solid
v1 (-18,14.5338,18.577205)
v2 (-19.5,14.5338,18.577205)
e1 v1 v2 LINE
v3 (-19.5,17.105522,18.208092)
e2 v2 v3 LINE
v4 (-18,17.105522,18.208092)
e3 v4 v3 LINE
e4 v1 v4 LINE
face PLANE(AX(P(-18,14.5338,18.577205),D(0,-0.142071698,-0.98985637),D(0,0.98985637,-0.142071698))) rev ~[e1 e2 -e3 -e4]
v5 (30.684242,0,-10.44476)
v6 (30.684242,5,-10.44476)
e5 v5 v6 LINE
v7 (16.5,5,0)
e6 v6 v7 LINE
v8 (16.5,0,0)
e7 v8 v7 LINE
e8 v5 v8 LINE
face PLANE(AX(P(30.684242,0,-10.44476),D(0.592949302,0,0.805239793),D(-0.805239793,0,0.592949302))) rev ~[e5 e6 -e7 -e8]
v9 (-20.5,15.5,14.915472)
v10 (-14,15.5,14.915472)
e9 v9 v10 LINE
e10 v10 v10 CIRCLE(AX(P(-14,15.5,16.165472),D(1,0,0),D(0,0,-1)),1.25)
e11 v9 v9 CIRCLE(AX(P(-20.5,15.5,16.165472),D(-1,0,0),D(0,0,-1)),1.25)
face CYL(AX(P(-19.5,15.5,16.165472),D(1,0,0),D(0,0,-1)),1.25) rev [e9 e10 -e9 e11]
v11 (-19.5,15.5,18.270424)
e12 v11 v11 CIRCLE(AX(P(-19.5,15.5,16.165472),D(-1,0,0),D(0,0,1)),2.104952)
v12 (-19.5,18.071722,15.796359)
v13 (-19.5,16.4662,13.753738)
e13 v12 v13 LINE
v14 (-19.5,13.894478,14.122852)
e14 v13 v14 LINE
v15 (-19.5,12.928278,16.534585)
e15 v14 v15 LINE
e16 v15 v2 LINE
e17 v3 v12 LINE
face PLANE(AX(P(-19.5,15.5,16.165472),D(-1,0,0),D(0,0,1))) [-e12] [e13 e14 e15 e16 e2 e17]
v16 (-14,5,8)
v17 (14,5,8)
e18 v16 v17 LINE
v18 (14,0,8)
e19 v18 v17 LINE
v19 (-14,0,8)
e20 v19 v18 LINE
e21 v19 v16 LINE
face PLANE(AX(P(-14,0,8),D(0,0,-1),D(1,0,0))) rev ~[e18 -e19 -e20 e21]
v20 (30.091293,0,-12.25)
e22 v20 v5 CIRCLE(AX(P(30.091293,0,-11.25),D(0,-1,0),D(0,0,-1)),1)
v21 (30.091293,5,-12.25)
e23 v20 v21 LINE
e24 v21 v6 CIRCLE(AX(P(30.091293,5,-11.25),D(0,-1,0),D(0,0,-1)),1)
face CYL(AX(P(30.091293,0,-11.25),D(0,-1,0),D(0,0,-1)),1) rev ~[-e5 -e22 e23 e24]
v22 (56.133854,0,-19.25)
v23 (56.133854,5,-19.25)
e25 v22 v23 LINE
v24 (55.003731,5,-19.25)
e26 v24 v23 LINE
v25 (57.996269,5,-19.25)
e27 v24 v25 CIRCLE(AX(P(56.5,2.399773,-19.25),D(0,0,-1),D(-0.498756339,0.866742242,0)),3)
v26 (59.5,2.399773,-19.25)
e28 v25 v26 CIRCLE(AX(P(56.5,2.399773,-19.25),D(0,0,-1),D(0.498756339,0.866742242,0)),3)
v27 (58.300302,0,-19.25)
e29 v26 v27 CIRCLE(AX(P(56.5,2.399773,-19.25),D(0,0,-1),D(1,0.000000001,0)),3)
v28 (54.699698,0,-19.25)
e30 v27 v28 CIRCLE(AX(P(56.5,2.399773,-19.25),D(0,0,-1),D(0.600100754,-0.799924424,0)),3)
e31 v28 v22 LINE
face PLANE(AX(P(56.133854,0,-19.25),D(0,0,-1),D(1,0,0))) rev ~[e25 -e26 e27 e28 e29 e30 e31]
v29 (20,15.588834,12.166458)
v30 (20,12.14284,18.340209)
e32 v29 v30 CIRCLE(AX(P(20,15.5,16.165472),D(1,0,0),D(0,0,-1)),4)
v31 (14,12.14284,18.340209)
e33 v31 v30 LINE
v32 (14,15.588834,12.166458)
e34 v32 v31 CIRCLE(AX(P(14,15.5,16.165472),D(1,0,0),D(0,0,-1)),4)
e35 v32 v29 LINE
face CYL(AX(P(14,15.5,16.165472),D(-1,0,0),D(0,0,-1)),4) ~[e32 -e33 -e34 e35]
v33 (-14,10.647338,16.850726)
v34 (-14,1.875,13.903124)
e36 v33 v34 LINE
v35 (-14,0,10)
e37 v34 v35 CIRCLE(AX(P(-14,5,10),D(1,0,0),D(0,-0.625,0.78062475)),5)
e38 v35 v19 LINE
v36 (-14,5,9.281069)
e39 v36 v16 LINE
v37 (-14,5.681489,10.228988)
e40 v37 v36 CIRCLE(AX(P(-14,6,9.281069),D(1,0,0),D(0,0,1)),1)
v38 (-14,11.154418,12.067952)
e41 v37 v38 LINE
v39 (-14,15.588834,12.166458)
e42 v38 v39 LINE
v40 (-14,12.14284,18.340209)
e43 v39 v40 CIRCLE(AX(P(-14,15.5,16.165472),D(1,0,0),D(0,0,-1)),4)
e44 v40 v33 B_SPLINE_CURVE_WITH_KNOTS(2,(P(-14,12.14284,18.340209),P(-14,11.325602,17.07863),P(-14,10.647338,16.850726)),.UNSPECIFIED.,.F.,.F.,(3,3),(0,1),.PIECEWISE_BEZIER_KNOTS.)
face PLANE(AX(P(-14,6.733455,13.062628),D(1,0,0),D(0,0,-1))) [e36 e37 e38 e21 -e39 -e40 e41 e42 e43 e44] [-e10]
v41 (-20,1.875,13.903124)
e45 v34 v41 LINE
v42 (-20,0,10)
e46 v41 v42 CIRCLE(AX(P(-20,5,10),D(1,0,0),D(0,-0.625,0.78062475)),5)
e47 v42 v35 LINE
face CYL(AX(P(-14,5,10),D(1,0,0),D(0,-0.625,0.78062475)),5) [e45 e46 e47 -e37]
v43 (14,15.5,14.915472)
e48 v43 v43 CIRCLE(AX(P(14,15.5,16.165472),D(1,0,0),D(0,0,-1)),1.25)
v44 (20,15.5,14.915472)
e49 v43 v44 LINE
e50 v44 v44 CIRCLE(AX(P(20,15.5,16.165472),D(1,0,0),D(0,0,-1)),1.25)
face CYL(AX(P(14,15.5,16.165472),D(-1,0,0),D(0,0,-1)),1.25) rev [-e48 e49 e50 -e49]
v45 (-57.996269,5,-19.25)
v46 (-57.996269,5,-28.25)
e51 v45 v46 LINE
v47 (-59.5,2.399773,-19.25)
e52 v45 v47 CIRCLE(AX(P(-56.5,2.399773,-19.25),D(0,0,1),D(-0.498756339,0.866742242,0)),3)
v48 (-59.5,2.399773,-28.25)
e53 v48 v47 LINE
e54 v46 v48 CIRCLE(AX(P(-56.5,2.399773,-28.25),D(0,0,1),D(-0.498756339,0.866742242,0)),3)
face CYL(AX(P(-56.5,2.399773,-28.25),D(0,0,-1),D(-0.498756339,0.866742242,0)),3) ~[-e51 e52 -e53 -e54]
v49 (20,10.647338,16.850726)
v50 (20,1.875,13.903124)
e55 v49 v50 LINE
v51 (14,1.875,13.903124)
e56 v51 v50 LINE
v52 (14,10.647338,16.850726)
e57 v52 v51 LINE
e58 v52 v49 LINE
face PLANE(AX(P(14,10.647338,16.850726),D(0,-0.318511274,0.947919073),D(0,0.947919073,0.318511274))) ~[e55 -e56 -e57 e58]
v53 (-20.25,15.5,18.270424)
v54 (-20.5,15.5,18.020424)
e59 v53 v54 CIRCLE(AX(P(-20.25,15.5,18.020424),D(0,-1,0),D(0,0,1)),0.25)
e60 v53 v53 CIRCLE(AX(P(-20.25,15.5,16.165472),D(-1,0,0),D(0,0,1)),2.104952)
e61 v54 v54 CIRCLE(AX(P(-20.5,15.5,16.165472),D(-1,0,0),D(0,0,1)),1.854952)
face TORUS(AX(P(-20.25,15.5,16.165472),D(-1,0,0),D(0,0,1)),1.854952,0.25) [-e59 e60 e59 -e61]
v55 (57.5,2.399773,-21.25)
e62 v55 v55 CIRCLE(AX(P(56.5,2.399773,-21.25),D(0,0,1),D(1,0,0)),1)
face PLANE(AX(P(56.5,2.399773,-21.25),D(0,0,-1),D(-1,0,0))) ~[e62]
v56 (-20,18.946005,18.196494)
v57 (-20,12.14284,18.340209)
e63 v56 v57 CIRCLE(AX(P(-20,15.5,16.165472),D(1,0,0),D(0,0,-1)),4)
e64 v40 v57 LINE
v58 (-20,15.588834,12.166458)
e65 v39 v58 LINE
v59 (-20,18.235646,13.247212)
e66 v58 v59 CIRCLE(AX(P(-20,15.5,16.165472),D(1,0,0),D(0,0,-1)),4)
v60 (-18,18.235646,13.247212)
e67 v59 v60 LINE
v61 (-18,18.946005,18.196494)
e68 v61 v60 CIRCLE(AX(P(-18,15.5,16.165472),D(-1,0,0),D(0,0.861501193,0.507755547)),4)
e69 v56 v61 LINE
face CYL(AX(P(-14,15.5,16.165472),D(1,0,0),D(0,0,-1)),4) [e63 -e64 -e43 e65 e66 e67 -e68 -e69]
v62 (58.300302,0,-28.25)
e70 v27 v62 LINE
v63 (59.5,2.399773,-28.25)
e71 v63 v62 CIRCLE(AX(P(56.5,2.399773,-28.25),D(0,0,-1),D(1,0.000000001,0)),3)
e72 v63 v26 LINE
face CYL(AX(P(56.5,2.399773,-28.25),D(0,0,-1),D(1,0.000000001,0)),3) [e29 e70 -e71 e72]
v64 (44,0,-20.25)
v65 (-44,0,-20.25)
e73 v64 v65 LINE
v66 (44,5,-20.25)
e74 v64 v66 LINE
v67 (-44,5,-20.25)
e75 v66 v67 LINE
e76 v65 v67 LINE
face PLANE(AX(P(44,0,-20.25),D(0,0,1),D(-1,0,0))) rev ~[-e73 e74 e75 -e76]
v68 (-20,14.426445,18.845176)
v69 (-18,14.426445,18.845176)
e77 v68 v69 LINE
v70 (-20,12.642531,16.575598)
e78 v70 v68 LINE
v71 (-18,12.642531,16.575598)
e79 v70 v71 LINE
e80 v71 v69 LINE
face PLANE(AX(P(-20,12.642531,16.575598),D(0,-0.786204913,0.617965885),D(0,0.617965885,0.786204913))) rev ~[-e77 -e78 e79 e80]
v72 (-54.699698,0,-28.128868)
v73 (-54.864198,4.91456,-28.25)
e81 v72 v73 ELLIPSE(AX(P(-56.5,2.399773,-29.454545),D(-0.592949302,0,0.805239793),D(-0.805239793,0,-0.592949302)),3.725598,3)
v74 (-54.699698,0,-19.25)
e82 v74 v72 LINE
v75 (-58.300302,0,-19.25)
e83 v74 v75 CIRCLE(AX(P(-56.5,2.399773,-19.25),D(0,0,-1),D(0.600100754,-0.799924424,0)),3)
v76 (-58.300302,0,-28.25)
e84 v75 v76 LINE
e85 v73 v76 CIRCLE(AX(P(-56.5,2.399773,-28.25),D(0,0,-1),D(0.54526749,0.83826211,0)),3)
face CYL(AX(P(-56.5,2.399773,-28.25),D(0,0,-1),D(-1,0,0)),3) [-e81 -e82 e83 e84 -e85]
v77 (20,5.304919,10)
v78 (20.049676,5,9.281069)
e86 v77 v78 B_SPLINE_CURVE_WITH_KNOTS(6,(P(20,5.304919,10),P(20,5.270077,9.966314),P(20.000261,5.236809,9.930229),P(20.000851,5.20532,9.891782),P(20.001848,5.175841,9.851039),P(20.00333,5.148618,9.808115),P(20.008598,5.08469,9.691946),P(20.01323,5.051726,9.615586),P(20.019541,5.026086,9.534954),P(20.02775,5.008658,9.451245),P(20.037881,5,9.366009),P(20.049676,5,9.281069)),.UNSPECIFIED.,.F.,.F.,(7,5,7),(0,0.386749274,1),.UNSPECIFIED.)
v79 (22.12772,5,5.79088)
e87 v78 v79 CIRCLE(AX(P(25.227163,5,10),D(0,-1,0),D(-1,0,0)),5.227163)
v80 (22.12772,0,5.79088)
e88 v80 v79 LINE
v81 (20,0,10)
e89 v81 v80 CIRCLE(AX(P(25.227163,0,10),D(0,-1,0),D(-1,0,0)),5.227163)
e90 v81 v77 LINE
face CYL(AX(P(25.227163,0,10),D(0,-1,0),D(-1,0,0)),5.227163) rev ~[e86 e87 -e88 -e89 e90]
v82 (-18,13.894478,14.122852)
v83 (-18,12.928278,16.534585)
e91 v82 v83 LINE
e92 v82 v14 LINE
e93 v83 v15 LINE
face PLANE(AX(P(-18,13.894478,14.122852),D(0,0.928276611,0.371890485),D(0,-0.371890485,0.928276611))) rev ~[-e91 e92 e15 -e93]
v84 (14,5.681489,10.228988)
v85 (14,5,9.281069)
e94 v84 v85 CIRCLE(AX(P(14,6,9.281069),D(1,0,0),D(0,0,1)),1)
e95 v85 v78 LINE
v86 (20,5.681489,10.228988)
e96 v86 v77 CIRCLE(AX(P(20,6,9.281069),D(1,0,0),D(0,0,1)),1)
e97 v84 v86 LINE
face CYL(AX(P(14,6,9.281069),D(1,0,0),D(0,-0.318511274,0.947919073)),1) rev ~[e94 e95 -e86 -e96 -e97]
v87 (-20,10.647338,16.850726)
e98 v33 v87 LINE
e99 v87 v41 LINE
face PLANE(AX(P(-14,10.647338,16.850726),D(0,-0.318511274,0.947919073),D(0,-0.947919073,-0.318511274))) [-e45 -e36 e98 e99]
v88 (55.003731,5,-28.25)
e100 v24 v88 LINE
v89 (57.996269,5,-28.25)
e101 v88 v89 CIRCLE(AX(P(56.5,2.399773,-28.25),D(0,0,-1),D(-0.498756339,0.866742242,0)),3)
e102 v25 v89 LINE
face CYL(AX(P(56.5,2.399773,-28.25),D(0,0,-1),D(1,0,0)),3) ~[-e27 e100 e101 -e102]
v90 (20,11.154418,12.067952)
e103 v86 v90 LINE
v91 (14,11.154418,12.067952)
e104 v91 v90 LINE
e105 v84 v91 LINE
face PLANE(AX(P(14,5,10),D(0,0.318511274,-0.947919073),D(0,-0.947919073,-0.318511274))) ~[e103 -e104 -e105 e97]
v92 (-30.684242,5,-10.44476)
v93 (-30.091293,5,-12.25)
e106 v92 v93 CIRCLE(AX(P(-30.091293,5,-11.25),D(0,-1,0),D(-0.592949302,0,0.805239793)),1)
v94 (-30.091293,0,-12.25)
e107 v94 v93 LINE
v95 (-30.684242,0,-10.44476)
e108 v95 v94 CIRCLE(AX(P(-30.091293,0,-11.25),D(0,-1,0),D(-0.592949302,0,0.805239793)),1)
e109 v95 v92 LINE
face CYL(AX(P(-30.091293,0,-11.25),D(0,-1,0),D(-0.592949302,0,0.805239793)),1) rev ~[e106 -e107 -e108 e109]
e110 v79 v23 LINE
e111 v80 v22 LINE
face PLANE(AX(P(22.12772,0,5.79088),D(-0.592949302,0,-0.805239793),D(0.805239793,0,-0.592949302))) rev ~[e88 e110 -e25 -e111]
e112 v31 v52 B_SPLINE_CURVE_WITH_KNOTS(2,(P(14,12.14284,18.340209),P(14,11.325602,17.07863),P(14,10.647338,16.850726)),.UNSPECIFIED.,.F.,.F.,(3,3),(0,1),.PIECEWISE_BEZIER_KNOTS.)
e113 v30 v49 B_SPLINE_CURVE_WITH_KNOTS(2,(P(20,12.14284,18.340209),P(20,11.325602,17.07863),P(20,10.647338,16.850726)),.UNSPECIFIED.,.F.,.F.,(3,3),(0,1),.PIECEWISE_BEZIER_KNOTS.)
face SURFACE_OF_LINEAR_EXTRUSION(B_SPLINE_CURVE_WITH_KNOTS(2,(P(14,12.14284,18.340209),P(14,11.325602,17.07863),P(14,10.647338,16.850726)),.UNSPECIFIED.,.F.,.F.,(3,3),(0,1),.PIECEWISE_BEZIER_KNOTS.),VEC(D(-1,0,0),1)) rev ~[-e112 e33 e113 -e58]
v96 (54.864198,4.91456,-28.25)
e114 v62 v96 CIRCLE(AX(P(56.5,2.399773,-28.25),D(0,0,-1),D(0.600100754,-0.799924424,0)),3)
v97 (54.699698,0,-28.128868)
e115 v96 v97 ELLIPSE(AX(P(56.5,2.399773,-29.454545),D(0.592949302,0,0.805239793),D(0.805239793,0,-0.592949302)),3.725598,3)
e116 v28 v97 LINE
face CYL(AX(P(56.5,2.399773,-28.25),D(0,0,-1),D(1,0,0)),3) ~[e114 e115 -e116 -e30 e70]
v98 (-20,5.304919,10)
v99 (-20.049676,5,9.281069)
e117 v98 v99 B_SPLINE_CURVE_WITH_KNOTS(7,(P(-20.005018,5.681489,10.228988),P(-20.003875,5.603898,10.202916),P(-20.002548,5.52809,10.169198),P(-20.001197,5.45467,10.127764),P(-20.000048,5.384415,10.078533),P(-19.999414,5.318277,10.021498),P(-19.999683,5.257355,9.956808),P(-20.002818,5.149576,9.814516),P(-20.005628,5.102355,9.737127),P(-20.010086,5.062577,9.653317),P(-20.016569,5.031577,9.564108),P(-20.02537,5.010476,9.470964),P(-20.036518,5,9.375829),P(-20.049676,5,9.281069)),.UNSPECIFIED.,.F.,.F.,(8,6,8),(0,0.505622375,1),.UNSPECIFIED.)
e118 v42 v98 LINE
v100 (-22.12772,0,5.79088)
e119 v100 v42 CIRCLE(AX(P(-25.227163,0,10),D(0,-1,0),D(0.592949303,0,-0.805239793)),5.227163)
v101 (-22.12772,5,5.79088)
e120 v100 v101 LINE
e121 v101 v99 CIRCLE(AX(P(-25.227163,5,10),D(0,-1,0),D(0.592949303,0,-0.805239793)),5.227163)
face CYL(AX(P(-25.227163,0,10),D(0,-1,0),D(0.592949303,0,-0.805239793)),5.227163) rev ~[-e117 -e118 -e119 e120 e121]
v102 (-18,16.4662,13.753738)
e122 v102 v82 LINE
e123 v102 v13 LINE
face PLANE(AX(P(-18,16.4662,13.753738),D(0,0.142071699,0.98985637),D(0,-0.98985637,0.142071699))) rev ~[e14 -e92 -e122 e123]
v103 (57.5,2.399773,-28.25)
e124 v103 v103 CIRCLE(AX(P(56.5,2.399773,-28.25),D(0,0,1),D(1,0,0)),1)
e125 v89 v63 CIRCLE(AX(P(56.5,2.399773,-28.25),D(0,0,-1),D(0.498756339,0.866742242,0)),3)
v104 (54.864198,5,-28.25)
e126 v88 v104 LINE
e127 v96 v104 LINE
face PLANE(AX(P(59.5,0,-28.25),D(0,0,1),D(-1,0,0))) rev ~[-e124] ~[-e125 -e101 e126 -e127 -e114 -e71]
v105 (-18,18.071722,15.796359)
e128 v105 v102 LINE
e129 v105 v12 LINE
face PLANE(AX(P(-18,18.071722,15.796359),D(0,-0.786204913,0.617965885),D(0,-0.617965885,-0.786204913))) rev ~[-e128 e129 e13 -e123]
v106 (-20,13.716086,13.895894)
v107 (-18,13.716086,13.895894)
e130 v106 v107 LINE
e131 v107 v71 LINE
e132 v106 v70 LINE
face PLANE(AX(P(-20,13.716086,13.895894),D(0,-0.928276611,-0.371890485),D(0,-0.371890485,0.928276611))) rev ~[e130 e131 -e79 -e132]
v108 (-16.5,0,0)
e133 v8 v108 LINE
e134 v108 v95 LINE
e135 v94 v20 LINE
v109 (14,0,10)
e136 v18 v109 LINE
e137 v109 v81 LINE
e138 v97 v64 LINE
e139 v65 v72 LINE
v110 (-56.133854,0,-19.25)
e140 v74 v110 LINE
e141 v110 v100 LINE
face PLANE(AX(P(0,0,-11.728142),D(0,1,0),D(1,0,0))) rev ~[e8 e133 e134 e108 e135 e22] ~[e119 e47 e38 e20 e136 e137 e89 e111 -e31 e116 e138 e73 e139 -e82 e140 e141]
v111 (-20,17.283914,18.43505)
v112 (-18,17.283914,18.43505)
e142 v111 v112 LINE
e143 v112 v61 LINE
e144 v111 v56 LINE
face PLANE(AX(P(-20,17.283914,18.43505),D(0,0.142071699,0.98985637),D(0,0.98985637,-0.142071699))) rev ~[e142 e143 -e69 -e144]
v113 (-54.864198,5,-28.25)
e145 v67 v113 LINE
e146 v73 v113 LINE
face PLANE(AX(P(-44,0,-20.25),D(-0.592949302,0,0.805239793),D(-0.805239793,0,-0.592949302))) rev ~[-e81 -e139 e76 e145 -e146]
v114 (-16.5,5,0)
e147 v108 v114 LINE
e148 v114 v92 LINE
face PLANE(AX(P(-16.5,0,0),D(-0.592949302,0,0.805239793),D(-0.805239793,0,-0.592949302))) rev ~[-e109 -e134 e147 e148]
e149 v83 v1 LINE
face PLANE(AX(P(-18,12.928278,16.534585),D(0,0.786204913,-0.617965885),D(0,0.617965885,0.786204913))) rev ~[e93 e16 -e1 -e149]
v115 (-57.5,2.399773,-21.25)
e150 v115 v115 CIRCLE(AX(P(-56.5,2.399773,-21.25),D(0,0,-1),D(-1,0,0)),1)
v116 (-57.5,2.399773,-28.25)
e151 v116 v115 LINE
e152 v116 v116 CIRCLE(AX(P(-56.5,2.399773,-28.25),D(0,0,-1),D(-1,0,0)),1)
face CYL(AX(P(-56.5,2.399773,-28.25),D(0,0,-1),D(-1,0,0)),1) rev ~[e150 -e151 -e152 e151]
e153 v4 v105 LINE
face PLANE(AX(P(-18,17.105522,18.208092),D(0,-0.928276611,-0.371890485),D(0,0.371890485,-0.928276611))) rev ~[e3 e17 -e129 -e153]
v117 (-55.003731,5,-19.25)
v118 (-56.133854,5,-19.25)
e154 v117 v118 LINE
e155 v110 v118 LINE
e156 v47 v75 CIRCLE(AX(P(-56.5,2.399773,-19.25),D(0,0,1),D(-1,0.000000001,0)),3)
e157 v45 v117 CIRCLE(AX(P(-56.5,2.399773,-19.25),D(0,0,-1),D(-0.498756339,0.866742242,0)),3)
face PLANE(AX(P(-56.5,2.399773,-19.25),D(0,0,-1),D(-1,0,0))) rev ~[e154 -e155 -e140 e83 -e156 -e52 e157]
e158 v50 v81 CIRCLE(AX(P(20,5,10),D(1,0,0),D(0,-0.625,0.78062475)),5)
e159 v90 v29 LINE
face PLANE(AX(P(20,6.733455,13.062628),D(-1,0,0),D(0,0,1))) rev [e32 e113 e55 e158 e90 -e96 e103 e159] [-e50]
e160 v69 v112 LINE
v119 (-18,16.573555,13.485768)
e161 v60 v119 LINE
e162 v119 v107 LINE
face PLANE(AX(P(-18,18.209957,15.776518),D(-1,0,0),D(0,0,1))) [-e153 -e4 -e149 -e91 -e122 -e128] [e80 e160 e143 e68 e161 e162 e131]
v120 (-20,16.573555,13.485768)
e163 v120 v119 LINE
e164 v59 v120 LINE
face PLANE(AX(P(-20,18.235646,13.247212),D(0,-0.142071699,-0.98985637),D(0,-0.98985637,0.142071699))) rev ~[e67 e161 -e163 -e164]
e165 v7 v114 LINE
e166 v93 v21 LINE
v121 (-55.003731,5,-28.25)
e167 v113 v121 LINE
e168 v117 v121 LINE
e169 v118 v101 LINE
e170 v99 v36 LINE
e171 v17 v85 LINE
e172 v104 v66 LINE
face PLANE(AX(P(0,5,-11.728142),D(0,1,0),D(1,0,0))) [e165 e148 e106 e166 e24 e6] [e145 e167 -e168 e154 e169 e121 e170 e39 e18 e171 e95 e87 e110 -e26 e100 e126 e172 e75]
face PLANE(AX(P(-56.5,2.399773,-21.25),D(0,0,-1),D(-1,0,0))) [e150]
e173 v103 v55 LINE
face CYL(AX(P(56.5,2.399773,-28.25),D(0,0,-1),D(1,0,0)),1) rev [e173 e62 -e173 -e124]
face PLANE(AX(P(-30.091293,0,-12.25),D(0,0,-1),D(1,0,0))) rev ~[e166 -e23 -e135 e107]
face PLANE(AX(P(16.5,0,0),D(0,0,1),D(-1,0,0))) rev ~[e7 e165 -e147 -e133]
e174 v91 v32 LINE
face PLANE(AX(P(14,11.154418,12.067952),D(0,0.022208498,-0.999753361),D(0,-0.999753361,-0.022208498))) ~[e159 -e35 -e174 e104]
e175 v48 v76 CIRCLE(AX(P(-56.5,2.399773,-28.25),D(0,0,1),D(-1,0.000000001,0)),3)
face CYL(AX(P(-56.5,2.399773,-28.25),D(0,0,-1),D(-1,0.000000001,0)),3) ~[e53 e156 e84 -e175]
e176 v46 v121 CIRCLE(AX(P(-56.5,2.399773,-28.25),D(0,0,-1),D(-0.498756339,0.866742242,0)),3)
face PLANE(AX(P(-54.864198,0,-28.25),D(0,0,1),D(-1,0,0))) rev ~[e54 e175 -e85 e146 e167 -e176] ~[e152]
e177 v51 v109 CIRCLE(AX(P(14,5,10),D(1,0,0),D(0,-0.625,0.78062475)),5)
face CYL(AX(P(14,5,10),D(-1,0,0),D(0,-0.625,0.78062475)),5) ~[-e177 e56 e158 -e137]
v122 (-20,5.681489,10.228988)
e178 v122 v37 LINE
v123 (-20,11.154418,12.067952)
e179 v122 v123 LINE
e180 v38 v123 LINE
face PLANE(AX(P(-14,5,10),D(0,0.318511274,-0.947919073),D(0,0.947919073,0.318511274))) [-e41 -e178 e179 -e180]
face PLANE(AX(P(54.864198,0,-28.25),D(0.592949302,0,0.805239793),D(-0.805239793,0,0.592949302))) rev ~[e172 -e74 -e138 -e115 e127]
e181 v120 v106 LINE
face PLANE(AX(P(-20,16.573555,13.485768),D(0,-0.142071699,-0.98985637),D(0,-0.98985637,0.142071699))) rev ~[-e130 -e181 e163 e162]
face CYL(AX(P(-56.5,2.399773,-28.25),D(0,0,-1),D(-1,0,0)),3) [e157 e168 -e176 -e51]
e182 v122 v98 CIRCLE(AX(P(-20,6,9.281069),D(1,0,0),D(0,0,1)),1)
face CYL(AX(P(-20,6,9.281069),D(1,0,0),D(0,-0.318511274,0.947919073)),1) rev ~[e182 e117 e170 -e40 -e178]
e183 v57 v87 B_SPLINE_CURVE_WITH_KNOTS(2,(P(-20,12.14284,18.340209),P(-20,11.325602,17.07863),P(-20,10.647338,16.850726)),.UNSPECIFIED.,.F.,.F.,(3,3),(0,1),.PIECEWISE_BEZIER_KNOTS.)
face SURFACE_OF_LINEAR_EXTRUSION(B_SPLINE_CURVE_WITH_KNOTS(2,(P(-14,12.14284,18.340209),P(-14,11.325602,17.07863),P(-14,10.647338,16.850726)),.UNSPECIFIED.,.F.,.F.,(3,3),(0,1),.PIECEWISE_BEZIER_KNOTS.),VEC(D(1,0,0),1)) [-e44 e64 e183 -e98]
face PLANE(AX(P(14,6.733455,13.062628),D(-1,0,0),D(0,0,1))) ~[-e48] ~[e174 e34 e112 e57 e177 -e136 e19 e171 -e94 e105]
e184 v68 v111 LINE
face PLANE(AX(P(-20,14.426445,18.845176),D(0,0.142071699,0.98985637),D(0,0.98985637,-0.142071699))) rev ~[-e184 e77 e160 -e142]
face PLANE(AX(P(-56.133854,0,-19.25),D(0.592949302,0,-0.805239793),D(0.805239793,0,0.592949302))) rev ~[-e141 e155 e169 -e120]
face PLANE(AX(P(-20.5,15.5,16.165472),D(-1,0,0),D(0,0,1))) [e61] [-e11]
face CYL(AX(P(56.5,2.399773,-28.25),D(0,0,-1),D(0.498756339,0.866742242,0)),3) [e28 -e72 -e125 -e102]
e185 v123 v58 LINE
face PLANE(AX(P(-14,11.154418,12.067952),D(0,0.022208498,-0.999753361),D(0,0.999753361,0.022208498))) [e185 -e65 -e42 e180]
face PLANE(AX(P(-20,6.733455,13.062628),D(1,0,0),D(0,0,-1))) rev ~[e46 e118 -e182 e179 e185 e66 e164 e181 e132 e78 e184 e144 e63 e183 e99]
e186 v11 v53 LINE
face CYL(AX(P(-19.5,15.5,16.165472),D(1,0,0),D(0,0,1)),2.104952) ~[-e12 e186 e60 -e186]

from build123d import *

# Parameters (mm, degrees)
BOSS_EXTRUDE1_DEPTH  = 5
SKETCH2_R            = 3
BOSS_EXTRUDE2_DEPTH  = 9
CUT_EXTRUDE2_DEPTH   = 9
SKETCH5_R            = 1
CUT_EXTRUDE3_DEPTH   = 7
SKETCH6_R            = 4
SKETCH6_R_2          = 1.25
BOSS_EXTRUDE3_DEPTH  = 6
FILLET1_R            = 1
FILLET1_OF_MIRROR3_R = 1
SKETCH7_R            = 1.25
CUT_EXTRUDE4_DEPTH   = 2
SKETCH8_R            = 1.25
BOSS_EXTRUDE4_DEPTH  = 1.5
SKETCH9_R            = 2.104951794
SKETCH9_R_2          = 1.25
BOSS_EXTRUDE5_DEPTH  = 1
FILLET2_R            = 0.25


with BuildPart() as part:
    # Sketch1 → Boss-Extrude1 (new body)
    with BuildSketch(Plane(origin=(0, 0, 0), x_dir=(1, 0, 0), z_dir=(0, 1, 0))):
        with BuildLine():
            Line((44, 20.25), (-44, 20.25))
            Line((-44, 20.25), (-54.864197531, 28.25))
            Line((-54.864197531, 28.25), (-59.5, 28.25))
            Line((-59.5, 28.25), (-59.5, 19.25))
            Line((-59.5, 19.25), (-56.133853902, 19.25))
            Line((-56.133853902, 19.25), (-22.127720492, -5.790880057))
            ThreePointArc((-22.127720492, -5.790880057), (-20.56215902, -7.641828824), (-20, -10))
            Line((-20, -10), (-14, -10))
            Line((-14, -10), (-14, -8))
            Line((-14, -8), (14, -8))
            Line((14, -8), (14, -10))
            Line((14, -10), (20, -10))
            ThreePointArc((20, -10), (20.56215902, -7.641828824), (22.127720492, -5.790880057))
            Line((22.127720492, -5.790880057), (56.133853902, 19.25))
            Line((56.133853902, 19.25), (59.5, 19.25))
            Line((59.5, 19.25), (59.5, 28.25))
            Line((59.5, 28.25), (54.864197531, 28.25))
            Line((54.864197531, 28.25), (44, 20.25))
        make_face()
        with BuildLine():
            Line((16.5, 0), (-16.5, 0))
            Line((-16.5, 0), (-30.684242256, 10.444760207))
            ThreePointArc((-30.684242256, 10.444760207), (-31.041356055, 11.562057853), (-30.091292954, 12.25))
            Line((-30.091292954, 12.25), (30.091292954, 12.25))
            ThreePointArc((30.091292954, 12.25), (31.041356055, 11.562057853), (30.684242256, 10.444760207))
            Line((30.684242256, 10.444760207), (16.5, 0))
        make_face(mode=Mode.SUBTRACT)
    extrude(amount=BOSS_EXTRUDE1_DEPTH)

    # Sketch2 → Boss-Extrude2 (add)
    with BuildSketch(Plane(origin=(0, 0, -28.25), x_dir=(-1, 0, 0), z_dir=(0, 0, -1))):
        with Locations((56.5, 2.399773273)):
            Circle(SKETCH2_R)
    boss_extrude2 = extrude(amount=-BOSS_EXTRUDE2_DEPTH)

    # Sketch3 → Cut-Extrude2 (cut)
    with BuildSketch(Plane(origin=(0, 0, -28.25), x_dir=(-1, 0, 0), z_dir=(0, 0, -1))):
        with BuildLine():
            Line((60.611507076, 5.399773273), (56.5, 5.399773273))
            ThreePointArc((56.5, 5.399773273), (57.274377111, 5.298107293), (57.996269016, 5))
            Line((57.996269016, 5), (59.5, 5))
            Line((59.5, 5), (59.5, 2.399773273))
            Line((59.5, 2.399773273), (59.5, 0))
            Line((59.5, 0), (58.300302263, 0))
            ThreePointArc((58.300302263, 0), (57.448862524, -0.446216873), (56.5, -0.600226727))
            Line((56.5, -0.600226727), (60.611507076, -0.600226727))
            Line((60.611507076, -0.600226727), (60.611507076, 5.399773273))
        make_face()
        with BuildLine():
            Line((59.5, 5), (57.996269016, 5))
            ThreePointArc((57.996269016, 5), (59.096998946, 3.901637606), (59.5, 2.399773273))
            Line((59.5, 2.399773273), (59.5, 5))
        make_face()
        with BuildLine():
            Line((59.5, 0), (59.5, 2.399773273))
            ThreePointArc((59.5, 2.399773273), (59.183366057, 1.058301467), (58.300302263, 0))
            Line((58.300302263, 0), (59.5, 0))
        make_face()
    cut_extrude2 = extrude(amount=-CUT_EXTRUDE2_DEPTH, mode=Mode.SUBTRACT)

    # Sketch5 → Cut-Extrude3 (cut)
    with BuildSketch(Plane(origin=(0, 0, -28.25), x_dir=(-1, 0, 0), z_dir=(0, 0, -1))):
        with Locations((56.5, 2.399773273)):
            Circle(SKETCH5_R)
    cut_extrude3 = extrude(amount=-CUT_EXTRUDE3_DEPTH, mode=Mode.SUBTRACT)

    # Mirror1: Boss-Extrude2, Cut-Extrude2, Cut-Extrude3 across plane
    add(boss_extrude2.mirror(Plane(origin=(0, 0, 0), x_dir=(0, 0, 1), z_dir=(1, 0, 0))))
    add(cut_extrude2.mirror(Plane(origin=(0, 0, 0), x_dir=(0, 0, 1), z_dir=(1, 0, 0))), mode=Mode.SUBTRACT)
    add(cut_extrude3.mirror(Plane(origin=(0, 0, 0), x_dir=(0, 0, 1), z_dir=(1, 0, 0))), mode=Mode.SUBTRACT)

    # Sketch6 → Boss-Extrude3 (add)
    # profile 1 of 4: a face of its own
    with BuildSketch(Plane(origin=(-14, 0, 0), x_dir=(0, 0, -1), z_dir=(1, 0, 0))):
        with BuildLine():
            Line((-10, 0), (-10, 5))
            Line((-10, 5), (-12.067952412, 11.15441805))
            Line((-12.067952412, 11.15441805), (-12.801123052, 13.336401829))
            ThreePointArc((-12.801123052, 13.336401829), (-14.714307507, 11.772518008), (-17.18129323, 11.631136219))
            Line((-17.18129323, 11.631136219), (-16.850726128, 10.647337883))
            Line((-16.850726128, 10.647337883), (-13.903123749, 1.875))
            ThreePointArc((-13.903123749, 1.875), (-12.165063509, 0.493060906), (-10, 0))
        make_face()
    # profile 2 of 4: a face of its own
    with BuildSketch(Plane(origin=(-14, 0, 0), x_dir=(0, 0, -1), z_dir=(1, 0, 0))):
        with BuildLine():
            Line((-16.850726128, 10.647337883), (-17.18129323, 11.631136219))
            ThreePointArc((-17.18129323, 11.631136219), (-17.781137494, 11.840816405), (-18.340208526, 12.142840417))
            add(Edge.make_bspline(
                [(-18.340208526, 12.142840417), (-17.078630295, 11.325601808), (-16.850726128, 10.647337883)],
                knots=[0, 0, 0, 1, 1, 1], degree=2))
        make_face()
    # profile 3 of 4: a face of its own
    with BuildSketch(Plane(origin=(-14, 0, 0), x_dir=(0, 0, -1), z_dir=(1, 0, 0))):
        with Locations((-16.165471867, 15.5)):
            Circle(SKETCH6_R)
        with Locations((-16.165471867, 15.5)):
            Circle(SKETCH6_R_2, mode=Mode.SUBTRACT)
    # profile 4 of 4: a face of its own
    with BuildSketch(Plane(origin=(-14, 0, 0), x_dir=(0, 0, -1), z_dir=(1, 0, 0))):
        with BuildLine():
            Line((-12.801123052, 13.336401829), (-12.067952412, 11.15441805))
            Line((-12.067952412, 11.15441805), (-12.166458423, 15.588833991))
            ThreePointArc((-12.166458423, 15.588833991), (-12.165718514, 15.544419734), (-12.165471867, 15.5))
            ThreePointArc((-12.165471867, 15.5), (-12.327673327, 14.372479548), (-12.801123052, 13.336401829))
        make_face()
    boss_extrude3 = extrude(amount=-BOSS_EXTRUDE3_DEPTH)

    # Fillet1
    fillet1_edges = [part.edges().sort_by_distance(p)[0] for p in [
        (-17, 5, 10),
    ]]
    fillet(fillet1_edges, radius=FILLET1_R)

    # Mirror3: Boss-Extrude3 across plane
    add(boss_extrude3.mirror(Plane(origin=(0, 0, 0), x_dir=(0, 0, 1), z_dir=(1, 0, 0))))

    # Fillet1 of Mirror3
    fillet1_of_mirror3_edges = [part.edges().sort_by_distance(p)[0] for p in [
        (17, 5, 10),
    ]]
    fillet(fillet1_of_mirror3_edges, radius=FILLET1_OF_MIRROR3_R)

    # Sketch7 → Cut-Extrude4 (cut)
    # profile 1 of 2: a face of its own
    with BuildSketch(Plane.ZY.offset(20)):
        with BuildLine():
            Line((13.247212207, 18.235646277), (13.48576811, 16.573555357))
            Line((13.48576811, 16.573555357), (15.7553462, 18.357469207))
            Line((15.7553462, 18.357469207), (18.435049958, 17.28391385))
            Line((18.435049958, 17.28391385), (18.196494055, 18.94600477))
            ThreePointArc((18.196494055, 18.94600477), (15.597185073, 19.459425478), (13.247212207, 18.235646277))
        make_face()
    # profile 2 of 2: a face of its own
    with BuildSketch(Plane.ZY.offset(20)):
        Polygon((13.895893777, 13.71608615), (16.575597534, 12.642530793), (18.845175625, 14.426444643), (18.435049958, 17.28391385), (15.7553462, 18.357469207), (13.48576811, 16.573555357), align=None)
        with Locations(Location((16.165471867, 15.5, 0), (0, 0, 180))):
            Circle(SKETCH7_R, mode=Mode.SUBTRACT)
    extrude(amount=-CUT_EXTRUDE4_DEPTH, mode=Mode.SUBTRACT)

    # Sketch8 → Boss-Extrude4 (add)
    with BuildSketch(Plane.ZY.offset(18)):
        Polygon((15.796358767, 18.071722287), (13.753738485, 16.466199822), (14.122851586, 13.894477535), (16.534584967, 12.928277713), (18.577205249, 14.533800178), (18.208092149, 17.105522465), align=None)
        with Locations(Location((16.165471867, 15.5, 0), (0, 0, 180))):
            Circle(SKETCH8_R, mode=Mode.SUBTRACT)
    extrude(amount=BOSS_EXTRUDE4_DEPTH)

    # Sketch9 → Boss-Extrude5 (add)
    with BuildSketch(Plane.ZY.offset(19.5)):
        with Locations((16.165471867, 15.5)):
            Circle(SKETCH9_R)
        with Locations(Location((16.165471867, 15.5, 0), (0, 0, 180))):
            Circle(SKETCH9_R_2, mode=Mode.SUBTRACT)
    extrude(amount=BOSS_EXTRUDE5_DEPTH)

    # Fillet2
    fillet2_edges = [part.edges().sort_by_distance(p)[0] for p in [
        (-20.5, 15.5, 14.060520073),
    ]]
    fillet(fillet2_edges, radius=FILLET2_R)


solid = part.part
